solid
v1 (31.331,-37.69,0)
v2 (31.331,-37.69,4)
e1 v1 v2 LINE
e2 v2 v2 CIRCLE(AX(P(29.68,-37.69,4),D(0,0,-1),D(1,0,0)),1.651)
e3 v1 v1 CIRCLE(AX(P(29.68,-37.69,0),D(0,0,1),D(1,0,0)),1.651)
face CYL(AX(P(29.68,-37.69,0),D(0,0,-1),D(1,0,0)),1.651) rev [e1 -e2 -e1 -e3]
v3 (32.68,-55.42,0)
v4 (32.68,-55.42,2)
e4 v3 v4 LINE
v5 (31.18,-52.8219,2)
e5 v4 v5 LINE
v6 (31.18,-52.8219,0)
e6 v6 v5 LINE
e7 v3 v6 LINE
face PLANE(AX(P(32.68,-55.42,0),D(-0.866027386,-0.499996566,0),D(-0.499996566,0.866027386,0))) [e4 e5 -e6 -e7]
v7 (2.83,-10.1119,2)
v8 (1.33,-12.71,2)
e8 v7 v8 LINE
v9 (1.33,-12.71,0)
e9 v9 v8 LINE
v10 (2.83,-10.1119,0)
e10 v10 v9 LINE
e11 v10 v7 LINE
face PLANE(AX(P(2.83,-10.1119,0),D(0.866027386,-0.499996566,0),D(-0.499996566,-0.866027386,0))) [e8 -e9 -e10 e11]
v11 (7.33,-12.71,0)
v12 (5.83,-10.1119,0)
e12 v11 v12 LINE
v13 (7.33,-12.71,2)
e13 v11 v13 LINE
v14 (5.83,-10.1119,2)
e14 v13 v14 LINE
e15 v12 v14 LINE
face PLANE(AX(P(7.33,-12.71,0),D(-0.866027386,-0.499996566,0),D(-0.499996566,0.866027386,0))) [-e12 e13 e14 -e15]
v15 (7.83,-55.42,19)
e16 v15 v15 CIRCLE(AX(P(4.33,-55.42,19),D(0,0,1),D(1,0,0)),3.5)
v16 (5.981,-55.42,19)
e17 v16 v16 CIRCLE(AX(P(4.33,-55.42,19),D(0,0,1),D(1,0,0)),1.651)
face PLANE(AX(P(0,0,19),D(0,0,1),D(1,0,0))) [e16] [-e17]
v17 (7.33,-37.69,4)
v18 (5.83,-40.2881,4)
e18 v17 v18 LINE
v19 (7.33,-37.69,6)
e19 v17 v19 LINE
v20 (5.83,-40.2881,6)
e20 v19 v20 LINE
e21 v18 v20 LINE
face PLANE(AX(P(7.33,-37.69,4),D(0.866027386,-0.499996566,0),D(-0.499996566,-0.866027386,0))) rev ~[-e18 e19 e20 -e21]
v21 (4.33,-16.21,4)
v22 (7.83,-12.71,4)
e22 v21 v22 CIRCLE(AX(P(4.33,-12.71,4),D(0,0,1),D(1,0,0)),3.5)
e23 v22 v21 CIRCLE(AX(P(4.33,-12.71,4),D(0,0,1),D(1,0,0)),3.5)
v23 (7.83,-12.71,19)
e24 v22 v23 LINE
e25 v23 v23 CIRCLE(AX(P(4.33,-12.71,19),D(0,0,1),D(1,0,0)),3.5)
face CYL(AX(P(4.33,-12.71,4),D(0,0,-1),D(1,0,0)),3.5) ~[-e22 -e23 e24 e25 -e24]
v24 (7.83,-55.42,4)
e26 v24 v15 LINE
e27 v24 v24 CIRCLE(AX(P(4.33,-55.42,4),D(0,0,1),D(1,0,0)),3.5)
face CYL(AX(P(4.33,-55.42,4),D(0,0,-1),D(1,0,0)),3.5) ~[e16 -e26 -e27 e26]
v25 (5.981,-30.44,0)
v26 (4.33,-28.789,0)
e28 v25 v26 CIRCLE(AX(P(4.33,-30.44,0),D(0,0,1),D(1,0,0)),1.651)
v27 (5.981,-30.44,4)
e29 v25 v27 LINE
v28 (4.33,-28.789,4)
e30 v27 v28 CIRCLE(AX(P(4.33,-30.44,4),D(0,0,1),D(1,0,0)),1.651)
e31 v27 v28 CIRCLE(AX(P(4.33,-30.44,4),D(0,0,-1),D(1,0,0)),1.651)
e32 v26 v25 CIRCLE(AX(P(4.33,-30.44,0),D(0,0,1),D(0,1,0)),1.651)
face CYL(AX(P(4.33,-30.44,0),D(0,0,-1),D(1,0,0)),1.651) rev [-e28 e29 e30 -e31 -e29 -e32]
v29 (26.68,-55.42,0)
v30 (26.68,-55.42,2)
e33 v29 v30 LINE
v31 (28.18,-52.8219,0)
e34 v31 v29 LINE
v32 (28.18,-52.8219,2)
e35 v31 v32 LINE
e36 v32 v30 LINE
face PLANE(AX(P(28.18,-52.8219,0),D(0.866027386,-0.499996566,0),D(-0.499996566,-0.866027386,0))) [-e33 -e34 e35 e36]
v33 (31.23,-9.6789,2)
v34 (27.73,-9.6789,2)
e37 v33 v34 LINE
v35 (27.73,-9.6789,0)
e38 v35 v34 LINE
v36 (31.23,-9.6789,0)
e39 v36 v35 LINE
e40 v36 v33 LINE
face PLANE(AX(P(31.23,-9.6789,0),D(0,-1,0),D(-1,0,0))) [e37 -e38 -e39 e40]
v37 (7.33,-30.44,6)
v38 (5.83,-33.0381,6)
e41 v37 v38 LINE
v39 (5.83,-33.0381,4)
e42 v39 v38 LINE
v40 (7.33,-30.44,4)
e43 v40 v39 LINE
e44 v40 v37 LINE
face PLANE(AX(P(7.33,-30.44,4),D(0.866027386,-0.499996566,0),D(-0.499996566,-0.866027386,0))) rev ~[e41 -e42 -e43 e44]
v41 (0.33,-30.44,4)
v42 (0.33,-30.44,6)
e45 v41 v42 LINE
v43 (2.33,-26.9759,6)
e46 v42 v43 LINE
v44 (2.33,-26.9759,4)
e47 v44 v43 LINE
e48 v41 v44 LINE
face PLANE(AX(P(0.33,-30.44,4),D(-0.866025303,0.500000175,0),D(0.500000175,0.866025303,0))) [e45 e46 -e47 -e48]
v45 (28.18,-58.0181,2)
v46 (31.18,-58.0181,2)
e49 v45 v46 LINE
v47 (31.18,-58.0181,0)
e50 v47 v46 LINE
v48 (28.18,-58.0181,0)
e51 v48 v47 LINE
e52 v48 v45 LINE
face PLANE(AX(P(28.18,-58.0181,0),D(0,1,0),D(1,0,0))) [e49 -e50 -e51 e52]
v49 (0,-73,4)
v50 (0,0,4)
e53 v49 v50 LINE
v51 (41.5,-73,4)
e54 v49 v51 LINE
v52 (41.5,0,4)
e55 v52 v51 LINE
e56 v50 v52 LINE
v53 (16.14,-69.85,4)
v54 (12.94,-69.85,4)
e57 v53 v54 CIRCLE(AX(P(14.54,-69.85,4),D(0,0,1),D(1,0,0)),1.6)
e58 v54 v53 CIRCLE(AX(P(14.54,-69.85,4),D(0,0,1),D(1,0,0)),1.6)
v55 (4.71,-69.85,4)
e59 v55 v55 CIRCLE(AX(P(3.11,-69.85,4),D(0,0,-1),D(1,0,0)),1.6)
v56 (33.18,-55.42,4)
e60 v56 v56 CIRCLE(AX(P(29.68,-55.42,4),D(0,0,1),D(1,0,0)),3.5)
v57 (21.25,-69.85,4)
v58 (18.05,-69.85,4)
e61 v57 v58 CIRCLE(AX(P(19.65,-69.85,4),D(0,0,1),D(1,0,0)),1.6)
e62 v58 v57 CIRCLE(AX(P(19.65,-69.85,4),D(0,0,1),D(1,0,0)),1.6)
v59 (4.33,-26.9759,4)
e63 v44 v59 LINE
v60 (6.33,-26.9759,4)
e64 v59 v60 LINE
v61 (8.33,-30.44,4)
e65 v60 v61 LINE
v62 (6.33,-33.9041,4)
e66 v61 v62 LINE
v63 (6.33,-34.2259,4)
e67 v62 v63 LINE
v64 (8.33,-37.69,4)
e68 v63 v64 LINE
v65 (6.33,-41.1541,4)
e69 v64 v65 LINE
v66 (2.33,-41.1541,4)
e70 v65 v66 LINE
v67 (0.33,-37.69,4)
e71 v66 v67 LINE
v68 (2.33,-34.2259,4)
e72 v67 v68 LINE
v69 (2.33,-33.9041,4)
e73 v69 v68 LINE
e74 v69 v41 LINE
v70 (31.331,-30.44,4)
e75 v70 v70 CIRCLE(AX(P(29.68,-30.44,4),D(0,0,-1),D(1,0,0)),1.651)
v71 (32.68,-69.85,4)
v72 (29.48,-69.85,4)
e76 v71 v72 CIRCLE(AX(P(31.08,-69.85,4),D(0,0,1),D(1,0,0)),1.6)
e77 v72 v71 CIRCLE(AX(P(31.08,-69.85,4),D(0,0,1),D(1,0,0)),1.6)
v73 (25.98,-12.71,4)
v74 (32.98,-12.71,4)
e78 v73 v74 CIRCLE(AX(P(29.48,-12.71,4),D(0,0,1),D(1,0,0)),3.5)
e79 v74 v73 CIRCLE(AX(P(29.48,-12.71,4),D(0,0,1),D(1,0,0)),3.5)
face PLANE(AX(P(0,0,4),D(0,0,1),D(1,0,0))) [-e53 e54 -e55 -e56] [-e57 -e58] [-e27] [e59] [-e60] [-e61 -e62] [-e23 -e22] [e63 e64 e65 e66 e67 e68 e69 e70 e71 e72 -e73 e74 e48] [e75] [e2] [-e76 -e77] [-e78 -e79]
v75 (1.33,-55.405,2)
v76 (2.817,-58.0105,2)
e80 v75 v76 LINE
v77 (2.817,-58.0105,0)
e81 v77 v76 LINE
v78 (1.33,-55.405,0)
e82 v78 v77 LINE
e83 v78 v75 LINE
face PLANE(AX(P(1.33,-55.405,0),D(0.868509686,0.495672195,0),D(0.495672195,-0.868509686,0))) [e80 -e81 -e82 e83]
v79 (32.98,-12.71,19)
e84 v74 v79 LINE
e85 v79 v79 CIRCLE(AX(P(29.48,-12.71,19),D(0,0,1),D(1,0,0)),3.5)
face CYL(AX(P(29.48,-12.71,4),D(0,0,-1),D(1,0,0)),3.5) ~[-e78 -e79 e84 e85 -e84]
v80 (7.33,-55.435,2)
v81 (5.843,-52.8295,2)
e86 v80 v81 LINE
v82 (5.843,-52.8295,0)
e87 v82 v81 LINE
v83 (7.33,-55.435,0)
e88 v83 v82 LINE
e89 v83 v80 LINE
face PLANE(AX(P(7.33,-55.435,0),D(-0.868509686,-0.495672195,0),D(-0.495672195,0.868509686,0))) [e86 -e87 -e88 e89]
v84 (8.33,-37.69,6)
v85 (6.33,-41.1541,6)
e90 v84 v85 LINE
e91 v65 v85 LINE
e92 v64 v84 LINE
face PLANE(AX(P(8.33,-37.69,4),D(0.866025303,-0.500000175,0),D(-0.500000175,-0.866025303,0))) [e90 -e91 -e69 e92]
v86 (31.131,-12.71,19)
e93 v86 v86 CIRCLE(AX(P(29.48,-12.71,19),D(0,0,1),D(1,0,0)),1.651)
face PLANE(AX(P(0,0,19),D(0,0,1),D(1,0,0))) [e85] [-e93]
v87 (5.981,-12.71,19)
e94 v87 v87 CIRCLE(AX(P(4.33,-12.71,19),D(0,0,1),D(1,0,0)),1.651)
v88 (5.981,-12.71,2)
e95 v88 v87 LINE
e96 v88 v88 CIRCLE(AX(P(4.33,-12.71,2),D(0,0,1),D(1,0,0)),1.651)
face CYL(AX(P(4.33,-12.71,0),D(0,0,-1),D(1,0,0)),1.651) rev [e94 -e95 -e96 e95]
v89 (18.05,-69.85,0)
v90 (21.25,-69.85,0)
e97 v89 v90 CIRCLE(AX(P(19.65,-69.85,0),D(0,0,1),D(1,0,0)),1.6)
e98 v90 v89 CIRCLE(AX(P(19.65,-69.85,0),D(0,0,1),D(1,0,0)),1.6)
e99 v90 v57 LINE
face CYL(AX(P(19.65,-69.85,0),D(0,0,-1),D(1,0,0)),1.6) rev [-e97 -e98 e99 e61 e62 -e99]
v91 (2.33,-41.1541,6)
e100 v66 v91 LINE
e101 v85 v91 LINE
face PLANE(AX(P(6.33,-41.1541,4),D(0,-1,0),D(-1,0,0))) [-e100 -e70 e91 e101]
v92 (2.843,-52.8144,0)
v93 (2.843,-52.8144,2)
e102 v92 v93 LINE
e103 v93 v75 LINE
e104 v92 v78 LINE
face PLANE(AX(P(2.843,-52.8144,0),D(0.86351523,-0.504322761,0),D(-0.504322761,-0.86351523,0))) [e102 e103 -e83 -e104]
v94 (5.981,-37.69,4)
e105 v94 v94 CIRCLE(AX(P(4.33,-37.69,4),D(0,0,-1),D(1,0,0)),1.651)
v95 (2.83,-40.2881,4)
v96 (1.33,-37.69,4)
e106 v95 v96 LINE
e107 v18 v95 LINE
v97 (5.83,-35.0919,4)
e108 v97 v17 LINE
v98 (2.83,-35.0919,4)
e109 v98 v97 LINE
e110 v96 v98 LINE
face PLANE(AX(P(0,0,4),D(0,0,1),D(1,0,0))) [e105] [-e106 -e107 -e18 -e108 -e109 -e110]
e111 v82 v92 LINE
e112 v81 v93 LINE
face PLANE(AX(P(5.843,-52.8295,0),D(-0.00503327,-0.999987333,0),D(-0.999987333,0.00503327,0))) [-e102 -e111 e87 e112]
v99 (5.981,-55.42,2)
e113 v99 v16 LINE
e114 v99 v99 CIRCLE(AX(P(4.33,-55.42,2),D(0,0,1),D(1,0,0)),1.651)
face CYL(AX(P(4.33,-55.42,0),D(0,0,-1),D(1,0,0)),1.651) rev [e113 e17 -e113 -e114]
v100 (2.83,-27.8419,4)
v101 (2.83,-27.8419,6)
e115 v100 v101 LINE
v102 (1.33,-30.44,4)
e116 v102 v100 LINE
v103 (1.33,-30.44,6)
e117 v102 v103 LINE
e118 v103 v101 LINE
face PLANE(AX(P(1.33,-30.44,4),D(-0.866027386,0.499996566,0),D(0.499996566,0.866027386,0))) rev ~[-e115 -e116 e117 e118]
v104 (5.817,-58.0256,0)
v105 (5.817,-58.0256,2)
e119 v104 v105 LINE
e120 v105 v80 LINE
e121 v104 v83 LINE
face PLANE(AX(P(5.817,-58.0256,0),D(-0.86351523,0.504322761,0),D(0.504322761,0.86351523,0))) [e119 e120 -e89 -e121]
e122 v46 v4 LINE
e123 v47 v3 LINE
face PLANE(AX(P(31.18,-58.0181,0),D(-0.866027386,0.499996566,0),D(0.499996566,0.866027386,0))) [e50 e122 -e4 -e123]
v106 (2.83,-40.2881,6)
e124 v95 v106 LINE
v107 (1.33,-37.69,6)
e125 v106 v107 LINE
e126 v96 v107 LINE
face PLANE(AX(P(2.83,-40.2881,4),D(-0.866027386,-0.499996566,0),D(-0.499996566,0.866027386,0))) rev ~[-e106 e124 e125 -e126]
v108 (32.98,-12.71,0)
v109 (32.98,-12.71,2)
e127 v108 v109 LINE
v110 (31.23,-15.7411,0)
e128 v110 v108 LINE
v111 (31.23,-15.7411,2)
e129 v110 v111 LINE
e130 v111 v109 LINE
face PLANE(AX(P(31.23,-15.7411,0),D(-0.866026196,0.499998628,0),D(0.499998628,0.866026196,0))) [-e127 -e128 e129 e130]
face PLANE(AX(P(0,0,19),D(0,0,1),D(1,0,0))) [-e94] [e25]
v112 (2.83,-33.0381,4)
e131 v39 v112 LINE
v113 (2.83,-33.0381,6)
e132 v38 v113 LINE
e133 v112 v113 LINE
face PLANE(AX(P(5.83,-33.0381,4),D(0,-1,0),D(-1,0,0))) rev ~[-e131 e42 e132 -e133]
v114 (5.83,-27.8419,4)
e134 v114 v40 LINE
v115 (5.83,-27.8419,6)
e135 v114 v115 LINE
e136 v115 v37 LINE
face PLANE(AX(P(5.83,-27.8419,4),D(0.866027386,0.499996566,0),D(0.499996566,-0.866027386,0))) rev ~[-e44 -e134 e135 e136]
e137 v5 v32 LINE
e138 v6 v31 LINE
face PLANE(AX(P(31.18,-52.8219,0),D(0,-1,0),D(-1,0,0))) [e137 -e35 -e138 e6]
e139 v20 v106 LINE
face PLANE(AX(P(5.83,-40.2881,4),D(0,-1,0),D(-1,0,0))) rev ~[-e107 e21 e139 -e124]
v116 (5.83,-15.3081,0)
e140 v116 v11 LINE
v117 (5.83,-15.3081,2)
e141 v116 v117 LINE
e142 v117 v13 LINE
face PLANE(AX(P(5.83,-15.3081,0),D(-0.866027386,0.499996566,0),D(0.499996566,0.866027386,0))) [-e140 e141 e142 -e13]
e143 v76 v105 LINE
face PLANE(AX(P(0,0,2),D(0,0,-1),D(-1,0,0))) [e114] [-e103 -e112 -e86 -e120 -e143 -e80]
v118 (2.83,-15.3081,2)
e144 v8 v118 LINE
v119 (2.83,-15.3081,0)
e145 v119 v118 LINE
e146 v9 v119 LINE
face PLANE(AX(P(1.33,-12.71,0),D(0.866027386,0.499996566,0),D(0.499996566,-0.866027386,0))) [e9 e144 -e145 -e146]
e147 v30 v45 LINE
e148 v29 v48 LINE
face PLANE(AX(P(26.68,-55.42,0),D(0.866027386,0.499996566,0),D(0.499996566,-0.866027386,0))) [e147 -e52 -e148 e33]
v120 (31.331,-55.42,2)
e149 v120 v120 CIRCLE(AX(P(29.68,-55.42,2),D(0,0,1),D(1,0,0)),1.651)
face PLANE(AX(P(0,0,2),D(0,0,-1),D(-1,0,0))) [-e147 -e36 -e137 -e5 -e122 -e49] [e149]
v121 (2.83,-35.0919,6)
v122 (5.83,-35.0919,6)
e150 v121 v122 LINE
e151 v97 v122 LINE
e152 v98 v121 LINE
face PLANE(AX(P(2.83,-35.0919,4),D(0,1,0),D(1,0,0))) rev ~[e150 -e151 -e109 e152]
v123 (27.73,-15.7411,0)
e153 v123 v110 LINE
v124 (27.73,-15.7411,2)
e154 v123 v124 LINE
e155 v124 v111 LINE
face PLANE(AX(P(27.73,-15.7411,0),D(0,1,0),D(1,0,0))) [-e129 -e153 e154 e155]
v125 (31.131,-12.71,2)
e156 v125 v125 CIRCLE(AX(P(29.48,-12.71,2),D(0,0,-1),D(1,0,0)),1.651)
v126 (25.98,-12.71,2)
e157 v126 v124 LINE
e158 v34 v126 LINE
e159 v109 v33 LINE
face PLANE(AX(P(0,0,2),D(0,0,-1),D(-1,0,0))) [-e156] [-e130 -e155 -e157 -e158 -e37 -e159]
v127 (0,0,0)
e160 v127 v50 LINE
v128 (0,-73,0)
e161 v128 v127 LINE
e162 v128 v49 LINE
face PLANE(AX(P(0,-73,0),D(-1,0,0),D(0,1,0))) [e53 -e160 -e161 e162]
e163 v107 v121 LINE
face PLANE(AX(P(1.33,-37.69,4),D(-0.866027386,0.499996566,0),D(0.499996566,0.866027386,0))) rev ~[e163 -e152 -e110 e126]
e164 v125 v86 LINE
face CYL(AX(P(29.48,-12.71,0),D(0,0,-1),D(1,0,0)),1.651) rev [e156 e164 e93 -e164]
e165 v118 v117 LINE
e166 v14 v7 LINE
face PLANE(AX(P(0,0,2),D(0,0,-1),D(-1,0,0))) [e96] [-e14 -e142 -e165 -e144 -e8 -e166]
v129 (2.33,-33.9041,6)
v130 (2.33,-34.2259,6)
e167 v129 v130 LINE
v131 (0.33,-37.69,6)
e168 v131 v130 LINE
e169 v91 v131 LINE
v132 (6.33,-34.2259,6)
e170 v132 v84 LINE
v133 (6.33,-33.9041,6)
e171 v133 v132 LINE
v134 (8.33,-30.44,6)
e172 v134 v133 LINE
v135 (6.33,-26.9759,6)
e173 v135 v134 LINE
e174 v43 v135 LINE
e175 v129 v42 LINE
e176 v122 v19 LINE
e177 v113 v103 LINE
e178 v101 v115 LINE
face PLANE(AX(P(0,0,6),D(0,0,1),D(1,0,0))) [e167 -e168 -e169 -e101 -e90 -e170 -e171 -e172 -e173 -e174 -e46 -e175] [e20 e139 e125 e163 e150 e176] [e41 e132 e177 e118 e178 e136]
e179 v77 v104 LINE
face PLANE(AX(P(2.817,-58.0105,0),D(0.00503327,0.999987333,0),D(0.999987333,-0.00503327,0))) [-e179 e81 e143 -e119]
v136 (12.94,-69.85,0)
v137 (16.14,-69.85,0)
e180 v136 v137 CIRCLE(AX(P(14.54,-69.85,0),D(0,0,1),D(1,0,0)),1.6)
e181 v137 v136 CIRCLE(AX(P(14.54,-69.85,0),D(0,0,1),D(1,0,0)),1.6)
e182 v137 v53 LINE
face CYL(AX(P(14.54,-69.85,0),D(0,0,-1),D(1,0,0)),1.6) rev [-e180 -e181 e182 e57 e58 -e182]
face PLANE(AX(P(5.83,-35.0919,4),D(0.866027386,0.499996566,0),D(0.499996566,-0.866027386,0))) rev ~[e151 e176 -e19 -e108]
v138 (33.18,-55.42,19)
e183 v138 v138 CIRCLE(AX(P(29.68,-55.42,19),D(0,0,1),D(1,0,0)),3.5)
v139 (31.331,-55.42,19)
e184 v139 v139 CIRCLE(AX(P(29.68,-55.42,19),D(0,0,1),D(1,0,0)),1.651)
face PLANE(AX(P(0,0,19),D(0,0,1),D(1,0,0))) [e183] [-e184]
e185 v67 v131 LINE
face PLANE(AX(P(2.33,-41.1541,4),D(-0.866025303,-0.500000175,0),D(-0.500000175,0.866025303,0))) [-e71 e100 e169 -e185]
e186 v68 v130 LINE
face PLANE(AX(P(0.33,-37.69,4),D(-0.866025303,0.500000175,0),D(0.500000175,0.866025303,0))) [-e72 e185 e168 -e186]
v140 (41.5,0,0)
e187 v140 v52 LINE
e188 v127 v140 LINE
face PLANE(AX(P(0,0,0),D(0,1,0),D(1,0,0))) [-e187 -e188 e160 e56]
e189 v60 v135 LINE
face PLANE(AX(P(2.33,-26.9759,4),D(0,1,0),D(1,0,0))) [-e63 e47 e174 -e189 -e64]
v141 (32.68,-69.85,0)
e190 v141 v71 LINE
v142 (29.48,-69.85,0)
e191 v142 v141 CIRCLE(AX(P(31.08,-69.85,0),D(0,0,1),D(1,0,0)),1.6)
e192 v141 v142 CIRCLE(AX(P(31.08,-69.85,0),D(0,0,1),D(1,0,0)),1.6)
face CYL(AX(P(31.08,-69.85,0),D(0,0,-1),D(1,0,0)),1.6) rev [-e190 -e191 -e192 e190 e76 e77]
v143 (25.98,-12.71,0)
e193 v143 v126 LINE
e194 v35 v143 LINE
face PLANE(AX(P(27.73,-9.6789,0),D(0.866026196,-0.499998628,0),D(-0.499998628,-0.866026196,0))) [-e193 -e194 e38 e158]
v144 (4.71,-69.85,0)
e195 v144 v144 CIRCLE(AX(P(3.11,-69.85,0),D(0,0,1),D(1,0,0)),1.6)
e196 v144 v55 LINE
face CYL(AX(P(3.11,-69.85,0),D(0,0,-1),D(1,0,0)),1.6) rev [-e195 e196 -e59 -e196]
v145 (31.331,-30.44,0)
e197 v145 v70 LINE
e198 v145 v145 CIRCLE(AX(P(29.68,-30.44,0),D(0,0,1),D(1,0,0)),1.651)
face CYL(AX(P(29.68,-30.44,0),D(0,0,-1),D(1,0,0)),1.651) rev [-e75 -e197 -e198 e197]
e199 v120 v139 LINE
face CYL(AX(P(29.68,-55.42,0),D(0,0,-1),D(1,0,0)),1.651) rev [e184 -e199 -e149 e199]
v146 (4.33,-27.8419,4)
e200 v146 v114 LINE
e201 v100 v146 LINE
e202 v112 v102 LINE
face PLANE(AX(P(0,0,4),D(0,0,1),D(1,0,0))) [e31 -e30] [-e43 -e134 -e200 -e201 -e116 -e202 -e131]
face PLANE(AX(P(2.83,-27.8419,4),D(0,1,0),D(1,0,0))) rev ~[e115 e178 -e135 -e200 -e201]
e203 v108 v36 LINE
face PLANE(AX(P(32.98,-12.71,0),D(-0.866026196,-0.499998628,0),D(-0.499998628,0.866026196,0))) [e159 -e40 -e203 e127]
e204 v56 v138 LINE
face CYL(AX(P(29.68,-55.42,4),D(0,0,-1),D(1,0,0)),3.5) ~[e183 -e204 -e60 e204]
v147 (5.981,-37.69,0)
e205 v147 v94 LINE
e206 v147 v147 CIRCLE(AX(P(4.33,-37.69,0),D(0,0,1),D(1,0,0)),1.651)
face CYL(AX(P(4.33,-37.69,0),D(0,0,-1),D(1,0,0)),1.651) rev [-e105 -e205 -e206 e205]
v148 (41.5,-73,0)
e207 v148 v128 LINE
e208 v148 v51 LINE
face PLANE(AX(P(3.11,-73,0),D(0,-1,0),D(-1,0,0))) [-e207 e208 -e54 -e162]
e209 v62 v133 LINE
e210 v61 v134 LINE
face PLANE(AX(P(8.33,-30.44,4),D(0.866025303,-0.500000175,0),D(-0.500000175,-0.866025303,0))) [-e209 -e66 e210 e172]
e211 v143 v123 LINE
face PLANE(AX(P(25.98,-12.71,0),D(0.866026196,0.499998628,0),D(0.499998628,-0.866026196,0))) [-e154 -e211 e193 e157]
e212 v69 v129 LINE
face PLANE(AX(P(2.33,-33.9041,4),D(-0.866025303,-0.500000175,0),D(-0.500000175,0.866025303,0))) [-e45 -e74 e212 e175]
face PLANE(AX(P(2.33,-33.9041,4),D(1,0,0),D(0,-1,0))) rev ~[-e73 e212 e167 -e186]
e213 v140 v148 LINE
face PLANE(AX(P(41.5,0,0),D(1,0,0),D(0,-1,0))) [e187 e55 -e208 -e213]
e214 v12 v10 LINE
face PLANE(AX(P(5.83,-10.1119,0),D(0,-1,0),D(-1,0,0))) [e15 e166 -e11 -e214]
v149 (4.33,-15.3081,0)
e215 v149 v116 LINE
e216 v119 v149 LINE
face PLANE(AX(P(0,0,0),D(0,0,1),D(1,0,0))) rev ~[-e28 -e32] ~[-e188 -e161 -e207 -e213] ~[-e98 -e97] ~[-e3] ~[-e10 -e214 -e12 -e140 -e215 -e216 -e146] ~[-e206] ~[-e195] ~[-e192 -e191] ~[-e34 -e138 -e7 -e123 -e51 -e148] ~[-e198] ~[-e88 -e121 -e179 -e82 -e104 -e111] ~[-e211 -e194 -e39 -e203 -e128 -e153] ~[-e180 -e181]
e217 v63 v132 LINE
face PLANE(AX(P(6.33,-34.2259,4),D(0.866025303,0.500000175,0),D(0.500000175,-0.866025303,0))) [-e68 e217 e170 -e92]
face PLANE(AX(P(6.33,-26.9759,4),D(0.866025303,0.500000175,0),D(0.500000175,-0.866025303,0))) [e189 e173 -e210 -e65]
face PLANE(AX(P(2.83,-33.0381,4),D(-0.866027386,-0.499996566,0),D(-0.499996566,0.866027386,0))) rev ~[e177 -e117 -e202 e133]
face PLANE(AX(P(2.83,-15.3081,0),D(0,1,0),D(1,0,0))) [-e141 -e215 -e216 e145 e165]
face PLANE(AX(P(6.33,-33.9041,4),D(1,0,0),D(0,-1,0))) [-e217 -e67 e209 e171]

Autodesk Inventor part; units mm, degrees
ref_plane "YZ Plane" through (0, 0, 0) normal (1, 0, 0) x (0, 1, 0)
ref_plane "XZ Plane" through (0, 0, 0) normal (0, 1, 0) x (-1, 0, 0)
ref_plane "XY Plane" through (0, 0, 0) normal (0, 0, 1) x (1, 0, 0)
sketch "Sketch1" plane through (0, 0, 0) normal (0, 0, 1) x (1, 0, 0)
  line L0 (0, 0) -> (41.5, 0)
  line L1 (41.5, 0) -> (41.5, -73)
  line L2 (41.5, -73) -> (0, -73)
  line L3 (0, -73) -> (0, 0)
  line L4 (0, -73) -> (3.11, -73)
  line L5 (0, -73) -> (3.11, -73) construction
  line L6 (3.11, -73) -> (3.11, -69.85)
  line L7 (3.11, -73) -> (6.26, -73) construction
  line L8 (3.11, -69.85) -> (14.54, -69.85)
  line L9 (14.54, -69.85) -> (19.65, -69.85)
  line L10 (19.65, -69.85) -> (31.08, -69.85)
  circle A0 centre (3.11, -69.85) radius 1.6
  circle A1 centre (14.54, -69.85) radius 1.6
  circle A2 centre (19.65, -69.85) radius 1.6
  circle A3 centre (31.08, -69.85) radius 1.6
  line L11 (3.11, -69.85) -> (3.11, -55.42)
  line L12 (3.11, -69.85) -> (17.54, -69.85) construction
  line L13 (0, -73) -> (4.33, -73)
  line L14 (0, -73) -> (4.33, -73) construction
  line L15 (4.33, -73) -> (4.33, -53.49)
  line L16 (3.11, -55.42) -> (6.6479, -55.42)
  circle A4 centre (4.33, -55.42) radius 1.651
  line L17 (4.33, -55.42) -> (4.33, -37.69)
  line L18 (4.33, -55.42) -> (22.06, -55.42) construction
  line L19 (4.33, -55.42) -> (29.68, -55.42)
  line L20 (4.33, -55.42) -> (29.68, -55.42) construction
  circle A5 centre (4.33, -37.69) radius 1.651
  circle A6 centre (29.68, -55.42) radius 1.651
  line L21 (4.33, -37.69) -> (39.0376, -37.69)
  line L22 (29.68, -55.42) -> (29.68, -25.3245)
  circle A7 centre (29.68, -37.69) radius 1.651
  line L23 (4.33, -37.69) -> (4.33, -30.44)
  line L24 (4.33, -37.69) -> (11.58, -37.69) construction
  line L25 (4.33, -30.44) -> (4.33, -12.71)
  line L26 (4.33, -30.44) -> (29.68, -30.44)
  line L27 (4.33, -30.44) -> (29.68, -30.44) construction
  line L28 (4.33, -12.71) -> (29.68, -12.71)
  circle A8 centre (29.48, -12.71) radius 1.651
  circle A9 centre (4.33, -12.71) radius 1.651
  circle A10 centre (4.33, -30.44) radius 1.651
  circle A11 centre (29.68, -30.44) radius 1.651
  dimension "d0" = 41.5
  dimension "d1" = 73
  dimension "d2" = 3.11
  dimension "d3" = 0
  dimension "d4" = 3.15
  dimension "d5" = 90
  dimension "d6" = 11.43
  dimension "d7" = 90
  dimension "d9" = 5.11
  dimension "d10" = 11.43
  dimension "d11" = 180
  dimension "d12" = 3.2
  dimension "d13" = 3.2
  dimension "d14" = 3.2
  dimension "d15" = 3.2
  dimension "d18" = 14.43
  dimension "d19" = 90
  dimension "d20" = 4.33
  dimension "d21" = 0
  dimension "d22" = 3.302
  dimension "d23" = 17.73
  dimension "d24" = 90
  dimension "d25" = 25.35
  dimension "d26" = 0
  dimension "d27" = 3.302
  dimension "d28" = 3.302
  dimension "d29" = 3.302
  dimension "d30" = 7.25
  dimension "d31" = 90
  dimension "d32" = 17.73
  dimension "d33" = 180
  dimension "d34" = 25.35
  dimension "d35" = 0
  dimension "d36" = 25.35
  dimension "d37" = 3.302
  dimension "d38" = 3.302
  dimension "d39" = 3.302
  dimension "d40" = 3.302
extrude "Extrusion2" add sketch "Sketch1" along normal blind 4 contours L0 L1 L2 L15 A0 A4 L16 L19 A6 L22 A7 A11 L26 A10 L23 A5 L17 L11 L6 L3 | L6 A0 L15 L2 | L11 A4 L15 A0 | L15 L17 A5 L21 A7 L22 A6 L19 L16 A4 | L23 A10 L26 A11 L22 A7 L21 A5
sketch "Sketch3" plane through (0, 0, 4) normal (0, 0, 1) x (1, 0, 0)
  circle A0 centre (4.33, -55.42) radius 1.651 projected
  circle A1 centre (4.33, -55.42) radius 3.5
  circle A2 centre (29.68, -55.42) radius 1.651 projected
  circle A3 centre (29.68, -55.42) radius 3.5
  circle A4 centre (4.33, -12.71) radius 1.651 projected
  circle A5 centre (4.33, -12.71) radius 3.5
  circle A6 centre (29.48, -12.71) radius 1.651 projected
  circle A7 centre (29.48, -12.71) radius 3.5
  point P0 (0, 0)
  dimension "d46" = 7
  dimension "d47" = 7
  dimension "d48" = 7
  dimension "d49" = 7
extrude "Extrusion4" add sketch "Sketch3" along normal blind 15
sketch "Sketch8" plane through (0, 0, 0) normal (0, 0, -1) x (-1, 0, 0)
  circle A0 centre (-4.33, -12.71) radius 1.651 projected
  circle A1 centre (-4.33, -12.71) radius 3
  circle A2 centre (-29.48, -12.71) radius 1.651 projected
  circle A3 centre (-29.48, -12.71) radius 3
  circle A4 centre (-29.68, -55.42) radius 1.651 projected
  circle A5 centre (-29.68, -55.42) radius 3
  circle A6 centre (-4.33, -55.42) radius 1.651 projected
  circle A7 centre (-4.33, -55.42) radius 3
  line L0 (-1.33, -12.71) -> (-2.83, -15.3081)
  line L1 (-2.83, -15.3081) -> (-5.83, -15.3081)
  line L2 (-5.83, -15.3081) -> (-7.33, -12.71)
  line L3 (-7.33, -12.71) -> (-5.83, -10.1119)
  line L4 (-5.83, -10.1119) -> (-2.83, -10.1119)
  line L5 (-2.83, -10.1119) -> (-1.33, -12.71)
  circle A8 centre (-29.48, -12.71) radius 3.5 projected
  line L6 (-25.98, -12.71) -> (-27.73, -15.7411)
  line L7 (-27.73, -15.7411) -> (-31.23, -15.7411)
  line L8 (-31.23, -15.7411) -> (-32.98, -12.71)
  line L9 (-32.98, -12.71) -> (-31.23, -9.6789)
  line L10 (-31.23, -9.6789) -> (-27.73, -9.6789)
  line L11 (-27.73, -9.6789) -> (-25.98, -12.71)
  line L12 (-26.68, -55.42) -> (-28.18, -58.0181)
  line L13 (-28.18, -58.0181) -> (-31.18, -58.0181)
  line L14 (-31.18, -58.0181) -> (-32.68, -55.42)
  line L15 (-32.68, -55.42) -> (-31.18, -52.8219)
  line L16 (-31.18, -52.8219) -> (-28.18, -52.8219)
  line L17 (-28.18, -52.8219) -> (-26.68, -55.42)
  line L18 (-1.33, -55.405) -> (-2.817, -58.0105)
  line L19 (-2.817, -58.0105) -> (-5.817, -58.0256)
  line L20 (-5.817, -58.0256) -> (-7.33, -55.435)
  line L21 (-7.33, -55.435) -> (-5.843, -52.8295)
  line L22 (-5.843, -52.8295) -> (-2.843, -52.8144)
  line L23 (-2.843, -52.8144) -> (-1.33, -55.405)
  point P0 (0, 0)
  dimension "d53" = 6
  dimension "d55" = 6
  dimension "d56" = 6
  dimension "d54" = 6
extrude "Extrusion5" cut sketch "Sketch8" against normal blind 2 contours L0 L1 L2 L3 L4 L5 | A2 | A3 | L12 L13 L14 L15 L16 L17 | L18 L19 L20 L21 L22 L23 | L6 L7 L8 L9 L10 L11
sketch "Sketch9" plane through (0, 0, 4) normal (0, 0, 1) x (1, 0, 0)
  circle A0 centre (4.33, -30.44) radius 1.651 projected
  circle A1 centre (4.33, -30.44) radius 1.651
  circle A2 centre (4.33, -37.69) radius 1.651 projected
  circle A3 centre (4.33, -37.69) radius 1.651
  line L0 (7.33, -30.44) -> (5.83, -33.0381)
  line L1 (5.83, -33.0381) -> (2.83, -33.0381)
  line L2 (2.83, -33.0381) -> (1.33, -30.44)
  line L3 (1.33, -30.44) -> (2.83, -27.8419)
  line L4 (2.83, -27.8419) -> (5.83, -27.8419)
  line L5 (5.83, -27.8419) -> (7.33, -30.44)
  line L6 (7.33, -37.69) -> (5.83, -40.2881)
  line L7 (5.83, -40.2881) -> (2.83, -40.2881)
  line L8 (2.83, -40.2881) -> (1.33, -37.69)
  line L9 (1.33, -37.69) -> (2.83, -35.0919)
  line L10 (2.83, -35.0919) -> (5.83, -35.0919)
  line L11 (5.83, -35.0919) -> (7.33, -37.69)
  line L12 (8.33, -30.44) -> (6.33, -33.9041)
  line L13 (6.33, -33.9041) -> (2.33, -33.9041)
  line L14 (2.33, -33.9041) -> (0.33, -30.44)
  line L15 (0.33, -30.44) -> (2.33, -26.9759)
  line L16 (2.33, -26.9759) -> (6.33, -26.9759)
  line L17 (6.33, -26.9759) -> (8.33, -30.44)
  line L18 (8.33, -37.69) -> (6.33, -41.1541)
  line L19 (6.33, -41.1541) -> (2.33, -41.1541)
  line L20 (2.33, -41.1541) -> (0.33, -37.69)
  line L21 (0.33, -37.69) -> (2.33, -34.2259)
  line L22 (2.33, -34.2259) -> (6.33, -34.2259)
  line L23 (6.33, -34.2259) -> (8.33, -37.69)
  line L24 (6.33, -33.9041) -> (6.33, -34.2259)
  line L25 (2.33, -33.9041) -> (2.33, -34.2259)
  point P0 (0, 0)
  dimension "d59" = 3.302
  dimension "d60" = 3.302
extrude "Extrusion6" add sketch "Sketch9" along normal blind 2 contours L12 L13 L14 L15 L16 L17 | L24 L22 L25 L13 | L23 L18 L19 L20 L21 L22
properties part number "mountMount"
